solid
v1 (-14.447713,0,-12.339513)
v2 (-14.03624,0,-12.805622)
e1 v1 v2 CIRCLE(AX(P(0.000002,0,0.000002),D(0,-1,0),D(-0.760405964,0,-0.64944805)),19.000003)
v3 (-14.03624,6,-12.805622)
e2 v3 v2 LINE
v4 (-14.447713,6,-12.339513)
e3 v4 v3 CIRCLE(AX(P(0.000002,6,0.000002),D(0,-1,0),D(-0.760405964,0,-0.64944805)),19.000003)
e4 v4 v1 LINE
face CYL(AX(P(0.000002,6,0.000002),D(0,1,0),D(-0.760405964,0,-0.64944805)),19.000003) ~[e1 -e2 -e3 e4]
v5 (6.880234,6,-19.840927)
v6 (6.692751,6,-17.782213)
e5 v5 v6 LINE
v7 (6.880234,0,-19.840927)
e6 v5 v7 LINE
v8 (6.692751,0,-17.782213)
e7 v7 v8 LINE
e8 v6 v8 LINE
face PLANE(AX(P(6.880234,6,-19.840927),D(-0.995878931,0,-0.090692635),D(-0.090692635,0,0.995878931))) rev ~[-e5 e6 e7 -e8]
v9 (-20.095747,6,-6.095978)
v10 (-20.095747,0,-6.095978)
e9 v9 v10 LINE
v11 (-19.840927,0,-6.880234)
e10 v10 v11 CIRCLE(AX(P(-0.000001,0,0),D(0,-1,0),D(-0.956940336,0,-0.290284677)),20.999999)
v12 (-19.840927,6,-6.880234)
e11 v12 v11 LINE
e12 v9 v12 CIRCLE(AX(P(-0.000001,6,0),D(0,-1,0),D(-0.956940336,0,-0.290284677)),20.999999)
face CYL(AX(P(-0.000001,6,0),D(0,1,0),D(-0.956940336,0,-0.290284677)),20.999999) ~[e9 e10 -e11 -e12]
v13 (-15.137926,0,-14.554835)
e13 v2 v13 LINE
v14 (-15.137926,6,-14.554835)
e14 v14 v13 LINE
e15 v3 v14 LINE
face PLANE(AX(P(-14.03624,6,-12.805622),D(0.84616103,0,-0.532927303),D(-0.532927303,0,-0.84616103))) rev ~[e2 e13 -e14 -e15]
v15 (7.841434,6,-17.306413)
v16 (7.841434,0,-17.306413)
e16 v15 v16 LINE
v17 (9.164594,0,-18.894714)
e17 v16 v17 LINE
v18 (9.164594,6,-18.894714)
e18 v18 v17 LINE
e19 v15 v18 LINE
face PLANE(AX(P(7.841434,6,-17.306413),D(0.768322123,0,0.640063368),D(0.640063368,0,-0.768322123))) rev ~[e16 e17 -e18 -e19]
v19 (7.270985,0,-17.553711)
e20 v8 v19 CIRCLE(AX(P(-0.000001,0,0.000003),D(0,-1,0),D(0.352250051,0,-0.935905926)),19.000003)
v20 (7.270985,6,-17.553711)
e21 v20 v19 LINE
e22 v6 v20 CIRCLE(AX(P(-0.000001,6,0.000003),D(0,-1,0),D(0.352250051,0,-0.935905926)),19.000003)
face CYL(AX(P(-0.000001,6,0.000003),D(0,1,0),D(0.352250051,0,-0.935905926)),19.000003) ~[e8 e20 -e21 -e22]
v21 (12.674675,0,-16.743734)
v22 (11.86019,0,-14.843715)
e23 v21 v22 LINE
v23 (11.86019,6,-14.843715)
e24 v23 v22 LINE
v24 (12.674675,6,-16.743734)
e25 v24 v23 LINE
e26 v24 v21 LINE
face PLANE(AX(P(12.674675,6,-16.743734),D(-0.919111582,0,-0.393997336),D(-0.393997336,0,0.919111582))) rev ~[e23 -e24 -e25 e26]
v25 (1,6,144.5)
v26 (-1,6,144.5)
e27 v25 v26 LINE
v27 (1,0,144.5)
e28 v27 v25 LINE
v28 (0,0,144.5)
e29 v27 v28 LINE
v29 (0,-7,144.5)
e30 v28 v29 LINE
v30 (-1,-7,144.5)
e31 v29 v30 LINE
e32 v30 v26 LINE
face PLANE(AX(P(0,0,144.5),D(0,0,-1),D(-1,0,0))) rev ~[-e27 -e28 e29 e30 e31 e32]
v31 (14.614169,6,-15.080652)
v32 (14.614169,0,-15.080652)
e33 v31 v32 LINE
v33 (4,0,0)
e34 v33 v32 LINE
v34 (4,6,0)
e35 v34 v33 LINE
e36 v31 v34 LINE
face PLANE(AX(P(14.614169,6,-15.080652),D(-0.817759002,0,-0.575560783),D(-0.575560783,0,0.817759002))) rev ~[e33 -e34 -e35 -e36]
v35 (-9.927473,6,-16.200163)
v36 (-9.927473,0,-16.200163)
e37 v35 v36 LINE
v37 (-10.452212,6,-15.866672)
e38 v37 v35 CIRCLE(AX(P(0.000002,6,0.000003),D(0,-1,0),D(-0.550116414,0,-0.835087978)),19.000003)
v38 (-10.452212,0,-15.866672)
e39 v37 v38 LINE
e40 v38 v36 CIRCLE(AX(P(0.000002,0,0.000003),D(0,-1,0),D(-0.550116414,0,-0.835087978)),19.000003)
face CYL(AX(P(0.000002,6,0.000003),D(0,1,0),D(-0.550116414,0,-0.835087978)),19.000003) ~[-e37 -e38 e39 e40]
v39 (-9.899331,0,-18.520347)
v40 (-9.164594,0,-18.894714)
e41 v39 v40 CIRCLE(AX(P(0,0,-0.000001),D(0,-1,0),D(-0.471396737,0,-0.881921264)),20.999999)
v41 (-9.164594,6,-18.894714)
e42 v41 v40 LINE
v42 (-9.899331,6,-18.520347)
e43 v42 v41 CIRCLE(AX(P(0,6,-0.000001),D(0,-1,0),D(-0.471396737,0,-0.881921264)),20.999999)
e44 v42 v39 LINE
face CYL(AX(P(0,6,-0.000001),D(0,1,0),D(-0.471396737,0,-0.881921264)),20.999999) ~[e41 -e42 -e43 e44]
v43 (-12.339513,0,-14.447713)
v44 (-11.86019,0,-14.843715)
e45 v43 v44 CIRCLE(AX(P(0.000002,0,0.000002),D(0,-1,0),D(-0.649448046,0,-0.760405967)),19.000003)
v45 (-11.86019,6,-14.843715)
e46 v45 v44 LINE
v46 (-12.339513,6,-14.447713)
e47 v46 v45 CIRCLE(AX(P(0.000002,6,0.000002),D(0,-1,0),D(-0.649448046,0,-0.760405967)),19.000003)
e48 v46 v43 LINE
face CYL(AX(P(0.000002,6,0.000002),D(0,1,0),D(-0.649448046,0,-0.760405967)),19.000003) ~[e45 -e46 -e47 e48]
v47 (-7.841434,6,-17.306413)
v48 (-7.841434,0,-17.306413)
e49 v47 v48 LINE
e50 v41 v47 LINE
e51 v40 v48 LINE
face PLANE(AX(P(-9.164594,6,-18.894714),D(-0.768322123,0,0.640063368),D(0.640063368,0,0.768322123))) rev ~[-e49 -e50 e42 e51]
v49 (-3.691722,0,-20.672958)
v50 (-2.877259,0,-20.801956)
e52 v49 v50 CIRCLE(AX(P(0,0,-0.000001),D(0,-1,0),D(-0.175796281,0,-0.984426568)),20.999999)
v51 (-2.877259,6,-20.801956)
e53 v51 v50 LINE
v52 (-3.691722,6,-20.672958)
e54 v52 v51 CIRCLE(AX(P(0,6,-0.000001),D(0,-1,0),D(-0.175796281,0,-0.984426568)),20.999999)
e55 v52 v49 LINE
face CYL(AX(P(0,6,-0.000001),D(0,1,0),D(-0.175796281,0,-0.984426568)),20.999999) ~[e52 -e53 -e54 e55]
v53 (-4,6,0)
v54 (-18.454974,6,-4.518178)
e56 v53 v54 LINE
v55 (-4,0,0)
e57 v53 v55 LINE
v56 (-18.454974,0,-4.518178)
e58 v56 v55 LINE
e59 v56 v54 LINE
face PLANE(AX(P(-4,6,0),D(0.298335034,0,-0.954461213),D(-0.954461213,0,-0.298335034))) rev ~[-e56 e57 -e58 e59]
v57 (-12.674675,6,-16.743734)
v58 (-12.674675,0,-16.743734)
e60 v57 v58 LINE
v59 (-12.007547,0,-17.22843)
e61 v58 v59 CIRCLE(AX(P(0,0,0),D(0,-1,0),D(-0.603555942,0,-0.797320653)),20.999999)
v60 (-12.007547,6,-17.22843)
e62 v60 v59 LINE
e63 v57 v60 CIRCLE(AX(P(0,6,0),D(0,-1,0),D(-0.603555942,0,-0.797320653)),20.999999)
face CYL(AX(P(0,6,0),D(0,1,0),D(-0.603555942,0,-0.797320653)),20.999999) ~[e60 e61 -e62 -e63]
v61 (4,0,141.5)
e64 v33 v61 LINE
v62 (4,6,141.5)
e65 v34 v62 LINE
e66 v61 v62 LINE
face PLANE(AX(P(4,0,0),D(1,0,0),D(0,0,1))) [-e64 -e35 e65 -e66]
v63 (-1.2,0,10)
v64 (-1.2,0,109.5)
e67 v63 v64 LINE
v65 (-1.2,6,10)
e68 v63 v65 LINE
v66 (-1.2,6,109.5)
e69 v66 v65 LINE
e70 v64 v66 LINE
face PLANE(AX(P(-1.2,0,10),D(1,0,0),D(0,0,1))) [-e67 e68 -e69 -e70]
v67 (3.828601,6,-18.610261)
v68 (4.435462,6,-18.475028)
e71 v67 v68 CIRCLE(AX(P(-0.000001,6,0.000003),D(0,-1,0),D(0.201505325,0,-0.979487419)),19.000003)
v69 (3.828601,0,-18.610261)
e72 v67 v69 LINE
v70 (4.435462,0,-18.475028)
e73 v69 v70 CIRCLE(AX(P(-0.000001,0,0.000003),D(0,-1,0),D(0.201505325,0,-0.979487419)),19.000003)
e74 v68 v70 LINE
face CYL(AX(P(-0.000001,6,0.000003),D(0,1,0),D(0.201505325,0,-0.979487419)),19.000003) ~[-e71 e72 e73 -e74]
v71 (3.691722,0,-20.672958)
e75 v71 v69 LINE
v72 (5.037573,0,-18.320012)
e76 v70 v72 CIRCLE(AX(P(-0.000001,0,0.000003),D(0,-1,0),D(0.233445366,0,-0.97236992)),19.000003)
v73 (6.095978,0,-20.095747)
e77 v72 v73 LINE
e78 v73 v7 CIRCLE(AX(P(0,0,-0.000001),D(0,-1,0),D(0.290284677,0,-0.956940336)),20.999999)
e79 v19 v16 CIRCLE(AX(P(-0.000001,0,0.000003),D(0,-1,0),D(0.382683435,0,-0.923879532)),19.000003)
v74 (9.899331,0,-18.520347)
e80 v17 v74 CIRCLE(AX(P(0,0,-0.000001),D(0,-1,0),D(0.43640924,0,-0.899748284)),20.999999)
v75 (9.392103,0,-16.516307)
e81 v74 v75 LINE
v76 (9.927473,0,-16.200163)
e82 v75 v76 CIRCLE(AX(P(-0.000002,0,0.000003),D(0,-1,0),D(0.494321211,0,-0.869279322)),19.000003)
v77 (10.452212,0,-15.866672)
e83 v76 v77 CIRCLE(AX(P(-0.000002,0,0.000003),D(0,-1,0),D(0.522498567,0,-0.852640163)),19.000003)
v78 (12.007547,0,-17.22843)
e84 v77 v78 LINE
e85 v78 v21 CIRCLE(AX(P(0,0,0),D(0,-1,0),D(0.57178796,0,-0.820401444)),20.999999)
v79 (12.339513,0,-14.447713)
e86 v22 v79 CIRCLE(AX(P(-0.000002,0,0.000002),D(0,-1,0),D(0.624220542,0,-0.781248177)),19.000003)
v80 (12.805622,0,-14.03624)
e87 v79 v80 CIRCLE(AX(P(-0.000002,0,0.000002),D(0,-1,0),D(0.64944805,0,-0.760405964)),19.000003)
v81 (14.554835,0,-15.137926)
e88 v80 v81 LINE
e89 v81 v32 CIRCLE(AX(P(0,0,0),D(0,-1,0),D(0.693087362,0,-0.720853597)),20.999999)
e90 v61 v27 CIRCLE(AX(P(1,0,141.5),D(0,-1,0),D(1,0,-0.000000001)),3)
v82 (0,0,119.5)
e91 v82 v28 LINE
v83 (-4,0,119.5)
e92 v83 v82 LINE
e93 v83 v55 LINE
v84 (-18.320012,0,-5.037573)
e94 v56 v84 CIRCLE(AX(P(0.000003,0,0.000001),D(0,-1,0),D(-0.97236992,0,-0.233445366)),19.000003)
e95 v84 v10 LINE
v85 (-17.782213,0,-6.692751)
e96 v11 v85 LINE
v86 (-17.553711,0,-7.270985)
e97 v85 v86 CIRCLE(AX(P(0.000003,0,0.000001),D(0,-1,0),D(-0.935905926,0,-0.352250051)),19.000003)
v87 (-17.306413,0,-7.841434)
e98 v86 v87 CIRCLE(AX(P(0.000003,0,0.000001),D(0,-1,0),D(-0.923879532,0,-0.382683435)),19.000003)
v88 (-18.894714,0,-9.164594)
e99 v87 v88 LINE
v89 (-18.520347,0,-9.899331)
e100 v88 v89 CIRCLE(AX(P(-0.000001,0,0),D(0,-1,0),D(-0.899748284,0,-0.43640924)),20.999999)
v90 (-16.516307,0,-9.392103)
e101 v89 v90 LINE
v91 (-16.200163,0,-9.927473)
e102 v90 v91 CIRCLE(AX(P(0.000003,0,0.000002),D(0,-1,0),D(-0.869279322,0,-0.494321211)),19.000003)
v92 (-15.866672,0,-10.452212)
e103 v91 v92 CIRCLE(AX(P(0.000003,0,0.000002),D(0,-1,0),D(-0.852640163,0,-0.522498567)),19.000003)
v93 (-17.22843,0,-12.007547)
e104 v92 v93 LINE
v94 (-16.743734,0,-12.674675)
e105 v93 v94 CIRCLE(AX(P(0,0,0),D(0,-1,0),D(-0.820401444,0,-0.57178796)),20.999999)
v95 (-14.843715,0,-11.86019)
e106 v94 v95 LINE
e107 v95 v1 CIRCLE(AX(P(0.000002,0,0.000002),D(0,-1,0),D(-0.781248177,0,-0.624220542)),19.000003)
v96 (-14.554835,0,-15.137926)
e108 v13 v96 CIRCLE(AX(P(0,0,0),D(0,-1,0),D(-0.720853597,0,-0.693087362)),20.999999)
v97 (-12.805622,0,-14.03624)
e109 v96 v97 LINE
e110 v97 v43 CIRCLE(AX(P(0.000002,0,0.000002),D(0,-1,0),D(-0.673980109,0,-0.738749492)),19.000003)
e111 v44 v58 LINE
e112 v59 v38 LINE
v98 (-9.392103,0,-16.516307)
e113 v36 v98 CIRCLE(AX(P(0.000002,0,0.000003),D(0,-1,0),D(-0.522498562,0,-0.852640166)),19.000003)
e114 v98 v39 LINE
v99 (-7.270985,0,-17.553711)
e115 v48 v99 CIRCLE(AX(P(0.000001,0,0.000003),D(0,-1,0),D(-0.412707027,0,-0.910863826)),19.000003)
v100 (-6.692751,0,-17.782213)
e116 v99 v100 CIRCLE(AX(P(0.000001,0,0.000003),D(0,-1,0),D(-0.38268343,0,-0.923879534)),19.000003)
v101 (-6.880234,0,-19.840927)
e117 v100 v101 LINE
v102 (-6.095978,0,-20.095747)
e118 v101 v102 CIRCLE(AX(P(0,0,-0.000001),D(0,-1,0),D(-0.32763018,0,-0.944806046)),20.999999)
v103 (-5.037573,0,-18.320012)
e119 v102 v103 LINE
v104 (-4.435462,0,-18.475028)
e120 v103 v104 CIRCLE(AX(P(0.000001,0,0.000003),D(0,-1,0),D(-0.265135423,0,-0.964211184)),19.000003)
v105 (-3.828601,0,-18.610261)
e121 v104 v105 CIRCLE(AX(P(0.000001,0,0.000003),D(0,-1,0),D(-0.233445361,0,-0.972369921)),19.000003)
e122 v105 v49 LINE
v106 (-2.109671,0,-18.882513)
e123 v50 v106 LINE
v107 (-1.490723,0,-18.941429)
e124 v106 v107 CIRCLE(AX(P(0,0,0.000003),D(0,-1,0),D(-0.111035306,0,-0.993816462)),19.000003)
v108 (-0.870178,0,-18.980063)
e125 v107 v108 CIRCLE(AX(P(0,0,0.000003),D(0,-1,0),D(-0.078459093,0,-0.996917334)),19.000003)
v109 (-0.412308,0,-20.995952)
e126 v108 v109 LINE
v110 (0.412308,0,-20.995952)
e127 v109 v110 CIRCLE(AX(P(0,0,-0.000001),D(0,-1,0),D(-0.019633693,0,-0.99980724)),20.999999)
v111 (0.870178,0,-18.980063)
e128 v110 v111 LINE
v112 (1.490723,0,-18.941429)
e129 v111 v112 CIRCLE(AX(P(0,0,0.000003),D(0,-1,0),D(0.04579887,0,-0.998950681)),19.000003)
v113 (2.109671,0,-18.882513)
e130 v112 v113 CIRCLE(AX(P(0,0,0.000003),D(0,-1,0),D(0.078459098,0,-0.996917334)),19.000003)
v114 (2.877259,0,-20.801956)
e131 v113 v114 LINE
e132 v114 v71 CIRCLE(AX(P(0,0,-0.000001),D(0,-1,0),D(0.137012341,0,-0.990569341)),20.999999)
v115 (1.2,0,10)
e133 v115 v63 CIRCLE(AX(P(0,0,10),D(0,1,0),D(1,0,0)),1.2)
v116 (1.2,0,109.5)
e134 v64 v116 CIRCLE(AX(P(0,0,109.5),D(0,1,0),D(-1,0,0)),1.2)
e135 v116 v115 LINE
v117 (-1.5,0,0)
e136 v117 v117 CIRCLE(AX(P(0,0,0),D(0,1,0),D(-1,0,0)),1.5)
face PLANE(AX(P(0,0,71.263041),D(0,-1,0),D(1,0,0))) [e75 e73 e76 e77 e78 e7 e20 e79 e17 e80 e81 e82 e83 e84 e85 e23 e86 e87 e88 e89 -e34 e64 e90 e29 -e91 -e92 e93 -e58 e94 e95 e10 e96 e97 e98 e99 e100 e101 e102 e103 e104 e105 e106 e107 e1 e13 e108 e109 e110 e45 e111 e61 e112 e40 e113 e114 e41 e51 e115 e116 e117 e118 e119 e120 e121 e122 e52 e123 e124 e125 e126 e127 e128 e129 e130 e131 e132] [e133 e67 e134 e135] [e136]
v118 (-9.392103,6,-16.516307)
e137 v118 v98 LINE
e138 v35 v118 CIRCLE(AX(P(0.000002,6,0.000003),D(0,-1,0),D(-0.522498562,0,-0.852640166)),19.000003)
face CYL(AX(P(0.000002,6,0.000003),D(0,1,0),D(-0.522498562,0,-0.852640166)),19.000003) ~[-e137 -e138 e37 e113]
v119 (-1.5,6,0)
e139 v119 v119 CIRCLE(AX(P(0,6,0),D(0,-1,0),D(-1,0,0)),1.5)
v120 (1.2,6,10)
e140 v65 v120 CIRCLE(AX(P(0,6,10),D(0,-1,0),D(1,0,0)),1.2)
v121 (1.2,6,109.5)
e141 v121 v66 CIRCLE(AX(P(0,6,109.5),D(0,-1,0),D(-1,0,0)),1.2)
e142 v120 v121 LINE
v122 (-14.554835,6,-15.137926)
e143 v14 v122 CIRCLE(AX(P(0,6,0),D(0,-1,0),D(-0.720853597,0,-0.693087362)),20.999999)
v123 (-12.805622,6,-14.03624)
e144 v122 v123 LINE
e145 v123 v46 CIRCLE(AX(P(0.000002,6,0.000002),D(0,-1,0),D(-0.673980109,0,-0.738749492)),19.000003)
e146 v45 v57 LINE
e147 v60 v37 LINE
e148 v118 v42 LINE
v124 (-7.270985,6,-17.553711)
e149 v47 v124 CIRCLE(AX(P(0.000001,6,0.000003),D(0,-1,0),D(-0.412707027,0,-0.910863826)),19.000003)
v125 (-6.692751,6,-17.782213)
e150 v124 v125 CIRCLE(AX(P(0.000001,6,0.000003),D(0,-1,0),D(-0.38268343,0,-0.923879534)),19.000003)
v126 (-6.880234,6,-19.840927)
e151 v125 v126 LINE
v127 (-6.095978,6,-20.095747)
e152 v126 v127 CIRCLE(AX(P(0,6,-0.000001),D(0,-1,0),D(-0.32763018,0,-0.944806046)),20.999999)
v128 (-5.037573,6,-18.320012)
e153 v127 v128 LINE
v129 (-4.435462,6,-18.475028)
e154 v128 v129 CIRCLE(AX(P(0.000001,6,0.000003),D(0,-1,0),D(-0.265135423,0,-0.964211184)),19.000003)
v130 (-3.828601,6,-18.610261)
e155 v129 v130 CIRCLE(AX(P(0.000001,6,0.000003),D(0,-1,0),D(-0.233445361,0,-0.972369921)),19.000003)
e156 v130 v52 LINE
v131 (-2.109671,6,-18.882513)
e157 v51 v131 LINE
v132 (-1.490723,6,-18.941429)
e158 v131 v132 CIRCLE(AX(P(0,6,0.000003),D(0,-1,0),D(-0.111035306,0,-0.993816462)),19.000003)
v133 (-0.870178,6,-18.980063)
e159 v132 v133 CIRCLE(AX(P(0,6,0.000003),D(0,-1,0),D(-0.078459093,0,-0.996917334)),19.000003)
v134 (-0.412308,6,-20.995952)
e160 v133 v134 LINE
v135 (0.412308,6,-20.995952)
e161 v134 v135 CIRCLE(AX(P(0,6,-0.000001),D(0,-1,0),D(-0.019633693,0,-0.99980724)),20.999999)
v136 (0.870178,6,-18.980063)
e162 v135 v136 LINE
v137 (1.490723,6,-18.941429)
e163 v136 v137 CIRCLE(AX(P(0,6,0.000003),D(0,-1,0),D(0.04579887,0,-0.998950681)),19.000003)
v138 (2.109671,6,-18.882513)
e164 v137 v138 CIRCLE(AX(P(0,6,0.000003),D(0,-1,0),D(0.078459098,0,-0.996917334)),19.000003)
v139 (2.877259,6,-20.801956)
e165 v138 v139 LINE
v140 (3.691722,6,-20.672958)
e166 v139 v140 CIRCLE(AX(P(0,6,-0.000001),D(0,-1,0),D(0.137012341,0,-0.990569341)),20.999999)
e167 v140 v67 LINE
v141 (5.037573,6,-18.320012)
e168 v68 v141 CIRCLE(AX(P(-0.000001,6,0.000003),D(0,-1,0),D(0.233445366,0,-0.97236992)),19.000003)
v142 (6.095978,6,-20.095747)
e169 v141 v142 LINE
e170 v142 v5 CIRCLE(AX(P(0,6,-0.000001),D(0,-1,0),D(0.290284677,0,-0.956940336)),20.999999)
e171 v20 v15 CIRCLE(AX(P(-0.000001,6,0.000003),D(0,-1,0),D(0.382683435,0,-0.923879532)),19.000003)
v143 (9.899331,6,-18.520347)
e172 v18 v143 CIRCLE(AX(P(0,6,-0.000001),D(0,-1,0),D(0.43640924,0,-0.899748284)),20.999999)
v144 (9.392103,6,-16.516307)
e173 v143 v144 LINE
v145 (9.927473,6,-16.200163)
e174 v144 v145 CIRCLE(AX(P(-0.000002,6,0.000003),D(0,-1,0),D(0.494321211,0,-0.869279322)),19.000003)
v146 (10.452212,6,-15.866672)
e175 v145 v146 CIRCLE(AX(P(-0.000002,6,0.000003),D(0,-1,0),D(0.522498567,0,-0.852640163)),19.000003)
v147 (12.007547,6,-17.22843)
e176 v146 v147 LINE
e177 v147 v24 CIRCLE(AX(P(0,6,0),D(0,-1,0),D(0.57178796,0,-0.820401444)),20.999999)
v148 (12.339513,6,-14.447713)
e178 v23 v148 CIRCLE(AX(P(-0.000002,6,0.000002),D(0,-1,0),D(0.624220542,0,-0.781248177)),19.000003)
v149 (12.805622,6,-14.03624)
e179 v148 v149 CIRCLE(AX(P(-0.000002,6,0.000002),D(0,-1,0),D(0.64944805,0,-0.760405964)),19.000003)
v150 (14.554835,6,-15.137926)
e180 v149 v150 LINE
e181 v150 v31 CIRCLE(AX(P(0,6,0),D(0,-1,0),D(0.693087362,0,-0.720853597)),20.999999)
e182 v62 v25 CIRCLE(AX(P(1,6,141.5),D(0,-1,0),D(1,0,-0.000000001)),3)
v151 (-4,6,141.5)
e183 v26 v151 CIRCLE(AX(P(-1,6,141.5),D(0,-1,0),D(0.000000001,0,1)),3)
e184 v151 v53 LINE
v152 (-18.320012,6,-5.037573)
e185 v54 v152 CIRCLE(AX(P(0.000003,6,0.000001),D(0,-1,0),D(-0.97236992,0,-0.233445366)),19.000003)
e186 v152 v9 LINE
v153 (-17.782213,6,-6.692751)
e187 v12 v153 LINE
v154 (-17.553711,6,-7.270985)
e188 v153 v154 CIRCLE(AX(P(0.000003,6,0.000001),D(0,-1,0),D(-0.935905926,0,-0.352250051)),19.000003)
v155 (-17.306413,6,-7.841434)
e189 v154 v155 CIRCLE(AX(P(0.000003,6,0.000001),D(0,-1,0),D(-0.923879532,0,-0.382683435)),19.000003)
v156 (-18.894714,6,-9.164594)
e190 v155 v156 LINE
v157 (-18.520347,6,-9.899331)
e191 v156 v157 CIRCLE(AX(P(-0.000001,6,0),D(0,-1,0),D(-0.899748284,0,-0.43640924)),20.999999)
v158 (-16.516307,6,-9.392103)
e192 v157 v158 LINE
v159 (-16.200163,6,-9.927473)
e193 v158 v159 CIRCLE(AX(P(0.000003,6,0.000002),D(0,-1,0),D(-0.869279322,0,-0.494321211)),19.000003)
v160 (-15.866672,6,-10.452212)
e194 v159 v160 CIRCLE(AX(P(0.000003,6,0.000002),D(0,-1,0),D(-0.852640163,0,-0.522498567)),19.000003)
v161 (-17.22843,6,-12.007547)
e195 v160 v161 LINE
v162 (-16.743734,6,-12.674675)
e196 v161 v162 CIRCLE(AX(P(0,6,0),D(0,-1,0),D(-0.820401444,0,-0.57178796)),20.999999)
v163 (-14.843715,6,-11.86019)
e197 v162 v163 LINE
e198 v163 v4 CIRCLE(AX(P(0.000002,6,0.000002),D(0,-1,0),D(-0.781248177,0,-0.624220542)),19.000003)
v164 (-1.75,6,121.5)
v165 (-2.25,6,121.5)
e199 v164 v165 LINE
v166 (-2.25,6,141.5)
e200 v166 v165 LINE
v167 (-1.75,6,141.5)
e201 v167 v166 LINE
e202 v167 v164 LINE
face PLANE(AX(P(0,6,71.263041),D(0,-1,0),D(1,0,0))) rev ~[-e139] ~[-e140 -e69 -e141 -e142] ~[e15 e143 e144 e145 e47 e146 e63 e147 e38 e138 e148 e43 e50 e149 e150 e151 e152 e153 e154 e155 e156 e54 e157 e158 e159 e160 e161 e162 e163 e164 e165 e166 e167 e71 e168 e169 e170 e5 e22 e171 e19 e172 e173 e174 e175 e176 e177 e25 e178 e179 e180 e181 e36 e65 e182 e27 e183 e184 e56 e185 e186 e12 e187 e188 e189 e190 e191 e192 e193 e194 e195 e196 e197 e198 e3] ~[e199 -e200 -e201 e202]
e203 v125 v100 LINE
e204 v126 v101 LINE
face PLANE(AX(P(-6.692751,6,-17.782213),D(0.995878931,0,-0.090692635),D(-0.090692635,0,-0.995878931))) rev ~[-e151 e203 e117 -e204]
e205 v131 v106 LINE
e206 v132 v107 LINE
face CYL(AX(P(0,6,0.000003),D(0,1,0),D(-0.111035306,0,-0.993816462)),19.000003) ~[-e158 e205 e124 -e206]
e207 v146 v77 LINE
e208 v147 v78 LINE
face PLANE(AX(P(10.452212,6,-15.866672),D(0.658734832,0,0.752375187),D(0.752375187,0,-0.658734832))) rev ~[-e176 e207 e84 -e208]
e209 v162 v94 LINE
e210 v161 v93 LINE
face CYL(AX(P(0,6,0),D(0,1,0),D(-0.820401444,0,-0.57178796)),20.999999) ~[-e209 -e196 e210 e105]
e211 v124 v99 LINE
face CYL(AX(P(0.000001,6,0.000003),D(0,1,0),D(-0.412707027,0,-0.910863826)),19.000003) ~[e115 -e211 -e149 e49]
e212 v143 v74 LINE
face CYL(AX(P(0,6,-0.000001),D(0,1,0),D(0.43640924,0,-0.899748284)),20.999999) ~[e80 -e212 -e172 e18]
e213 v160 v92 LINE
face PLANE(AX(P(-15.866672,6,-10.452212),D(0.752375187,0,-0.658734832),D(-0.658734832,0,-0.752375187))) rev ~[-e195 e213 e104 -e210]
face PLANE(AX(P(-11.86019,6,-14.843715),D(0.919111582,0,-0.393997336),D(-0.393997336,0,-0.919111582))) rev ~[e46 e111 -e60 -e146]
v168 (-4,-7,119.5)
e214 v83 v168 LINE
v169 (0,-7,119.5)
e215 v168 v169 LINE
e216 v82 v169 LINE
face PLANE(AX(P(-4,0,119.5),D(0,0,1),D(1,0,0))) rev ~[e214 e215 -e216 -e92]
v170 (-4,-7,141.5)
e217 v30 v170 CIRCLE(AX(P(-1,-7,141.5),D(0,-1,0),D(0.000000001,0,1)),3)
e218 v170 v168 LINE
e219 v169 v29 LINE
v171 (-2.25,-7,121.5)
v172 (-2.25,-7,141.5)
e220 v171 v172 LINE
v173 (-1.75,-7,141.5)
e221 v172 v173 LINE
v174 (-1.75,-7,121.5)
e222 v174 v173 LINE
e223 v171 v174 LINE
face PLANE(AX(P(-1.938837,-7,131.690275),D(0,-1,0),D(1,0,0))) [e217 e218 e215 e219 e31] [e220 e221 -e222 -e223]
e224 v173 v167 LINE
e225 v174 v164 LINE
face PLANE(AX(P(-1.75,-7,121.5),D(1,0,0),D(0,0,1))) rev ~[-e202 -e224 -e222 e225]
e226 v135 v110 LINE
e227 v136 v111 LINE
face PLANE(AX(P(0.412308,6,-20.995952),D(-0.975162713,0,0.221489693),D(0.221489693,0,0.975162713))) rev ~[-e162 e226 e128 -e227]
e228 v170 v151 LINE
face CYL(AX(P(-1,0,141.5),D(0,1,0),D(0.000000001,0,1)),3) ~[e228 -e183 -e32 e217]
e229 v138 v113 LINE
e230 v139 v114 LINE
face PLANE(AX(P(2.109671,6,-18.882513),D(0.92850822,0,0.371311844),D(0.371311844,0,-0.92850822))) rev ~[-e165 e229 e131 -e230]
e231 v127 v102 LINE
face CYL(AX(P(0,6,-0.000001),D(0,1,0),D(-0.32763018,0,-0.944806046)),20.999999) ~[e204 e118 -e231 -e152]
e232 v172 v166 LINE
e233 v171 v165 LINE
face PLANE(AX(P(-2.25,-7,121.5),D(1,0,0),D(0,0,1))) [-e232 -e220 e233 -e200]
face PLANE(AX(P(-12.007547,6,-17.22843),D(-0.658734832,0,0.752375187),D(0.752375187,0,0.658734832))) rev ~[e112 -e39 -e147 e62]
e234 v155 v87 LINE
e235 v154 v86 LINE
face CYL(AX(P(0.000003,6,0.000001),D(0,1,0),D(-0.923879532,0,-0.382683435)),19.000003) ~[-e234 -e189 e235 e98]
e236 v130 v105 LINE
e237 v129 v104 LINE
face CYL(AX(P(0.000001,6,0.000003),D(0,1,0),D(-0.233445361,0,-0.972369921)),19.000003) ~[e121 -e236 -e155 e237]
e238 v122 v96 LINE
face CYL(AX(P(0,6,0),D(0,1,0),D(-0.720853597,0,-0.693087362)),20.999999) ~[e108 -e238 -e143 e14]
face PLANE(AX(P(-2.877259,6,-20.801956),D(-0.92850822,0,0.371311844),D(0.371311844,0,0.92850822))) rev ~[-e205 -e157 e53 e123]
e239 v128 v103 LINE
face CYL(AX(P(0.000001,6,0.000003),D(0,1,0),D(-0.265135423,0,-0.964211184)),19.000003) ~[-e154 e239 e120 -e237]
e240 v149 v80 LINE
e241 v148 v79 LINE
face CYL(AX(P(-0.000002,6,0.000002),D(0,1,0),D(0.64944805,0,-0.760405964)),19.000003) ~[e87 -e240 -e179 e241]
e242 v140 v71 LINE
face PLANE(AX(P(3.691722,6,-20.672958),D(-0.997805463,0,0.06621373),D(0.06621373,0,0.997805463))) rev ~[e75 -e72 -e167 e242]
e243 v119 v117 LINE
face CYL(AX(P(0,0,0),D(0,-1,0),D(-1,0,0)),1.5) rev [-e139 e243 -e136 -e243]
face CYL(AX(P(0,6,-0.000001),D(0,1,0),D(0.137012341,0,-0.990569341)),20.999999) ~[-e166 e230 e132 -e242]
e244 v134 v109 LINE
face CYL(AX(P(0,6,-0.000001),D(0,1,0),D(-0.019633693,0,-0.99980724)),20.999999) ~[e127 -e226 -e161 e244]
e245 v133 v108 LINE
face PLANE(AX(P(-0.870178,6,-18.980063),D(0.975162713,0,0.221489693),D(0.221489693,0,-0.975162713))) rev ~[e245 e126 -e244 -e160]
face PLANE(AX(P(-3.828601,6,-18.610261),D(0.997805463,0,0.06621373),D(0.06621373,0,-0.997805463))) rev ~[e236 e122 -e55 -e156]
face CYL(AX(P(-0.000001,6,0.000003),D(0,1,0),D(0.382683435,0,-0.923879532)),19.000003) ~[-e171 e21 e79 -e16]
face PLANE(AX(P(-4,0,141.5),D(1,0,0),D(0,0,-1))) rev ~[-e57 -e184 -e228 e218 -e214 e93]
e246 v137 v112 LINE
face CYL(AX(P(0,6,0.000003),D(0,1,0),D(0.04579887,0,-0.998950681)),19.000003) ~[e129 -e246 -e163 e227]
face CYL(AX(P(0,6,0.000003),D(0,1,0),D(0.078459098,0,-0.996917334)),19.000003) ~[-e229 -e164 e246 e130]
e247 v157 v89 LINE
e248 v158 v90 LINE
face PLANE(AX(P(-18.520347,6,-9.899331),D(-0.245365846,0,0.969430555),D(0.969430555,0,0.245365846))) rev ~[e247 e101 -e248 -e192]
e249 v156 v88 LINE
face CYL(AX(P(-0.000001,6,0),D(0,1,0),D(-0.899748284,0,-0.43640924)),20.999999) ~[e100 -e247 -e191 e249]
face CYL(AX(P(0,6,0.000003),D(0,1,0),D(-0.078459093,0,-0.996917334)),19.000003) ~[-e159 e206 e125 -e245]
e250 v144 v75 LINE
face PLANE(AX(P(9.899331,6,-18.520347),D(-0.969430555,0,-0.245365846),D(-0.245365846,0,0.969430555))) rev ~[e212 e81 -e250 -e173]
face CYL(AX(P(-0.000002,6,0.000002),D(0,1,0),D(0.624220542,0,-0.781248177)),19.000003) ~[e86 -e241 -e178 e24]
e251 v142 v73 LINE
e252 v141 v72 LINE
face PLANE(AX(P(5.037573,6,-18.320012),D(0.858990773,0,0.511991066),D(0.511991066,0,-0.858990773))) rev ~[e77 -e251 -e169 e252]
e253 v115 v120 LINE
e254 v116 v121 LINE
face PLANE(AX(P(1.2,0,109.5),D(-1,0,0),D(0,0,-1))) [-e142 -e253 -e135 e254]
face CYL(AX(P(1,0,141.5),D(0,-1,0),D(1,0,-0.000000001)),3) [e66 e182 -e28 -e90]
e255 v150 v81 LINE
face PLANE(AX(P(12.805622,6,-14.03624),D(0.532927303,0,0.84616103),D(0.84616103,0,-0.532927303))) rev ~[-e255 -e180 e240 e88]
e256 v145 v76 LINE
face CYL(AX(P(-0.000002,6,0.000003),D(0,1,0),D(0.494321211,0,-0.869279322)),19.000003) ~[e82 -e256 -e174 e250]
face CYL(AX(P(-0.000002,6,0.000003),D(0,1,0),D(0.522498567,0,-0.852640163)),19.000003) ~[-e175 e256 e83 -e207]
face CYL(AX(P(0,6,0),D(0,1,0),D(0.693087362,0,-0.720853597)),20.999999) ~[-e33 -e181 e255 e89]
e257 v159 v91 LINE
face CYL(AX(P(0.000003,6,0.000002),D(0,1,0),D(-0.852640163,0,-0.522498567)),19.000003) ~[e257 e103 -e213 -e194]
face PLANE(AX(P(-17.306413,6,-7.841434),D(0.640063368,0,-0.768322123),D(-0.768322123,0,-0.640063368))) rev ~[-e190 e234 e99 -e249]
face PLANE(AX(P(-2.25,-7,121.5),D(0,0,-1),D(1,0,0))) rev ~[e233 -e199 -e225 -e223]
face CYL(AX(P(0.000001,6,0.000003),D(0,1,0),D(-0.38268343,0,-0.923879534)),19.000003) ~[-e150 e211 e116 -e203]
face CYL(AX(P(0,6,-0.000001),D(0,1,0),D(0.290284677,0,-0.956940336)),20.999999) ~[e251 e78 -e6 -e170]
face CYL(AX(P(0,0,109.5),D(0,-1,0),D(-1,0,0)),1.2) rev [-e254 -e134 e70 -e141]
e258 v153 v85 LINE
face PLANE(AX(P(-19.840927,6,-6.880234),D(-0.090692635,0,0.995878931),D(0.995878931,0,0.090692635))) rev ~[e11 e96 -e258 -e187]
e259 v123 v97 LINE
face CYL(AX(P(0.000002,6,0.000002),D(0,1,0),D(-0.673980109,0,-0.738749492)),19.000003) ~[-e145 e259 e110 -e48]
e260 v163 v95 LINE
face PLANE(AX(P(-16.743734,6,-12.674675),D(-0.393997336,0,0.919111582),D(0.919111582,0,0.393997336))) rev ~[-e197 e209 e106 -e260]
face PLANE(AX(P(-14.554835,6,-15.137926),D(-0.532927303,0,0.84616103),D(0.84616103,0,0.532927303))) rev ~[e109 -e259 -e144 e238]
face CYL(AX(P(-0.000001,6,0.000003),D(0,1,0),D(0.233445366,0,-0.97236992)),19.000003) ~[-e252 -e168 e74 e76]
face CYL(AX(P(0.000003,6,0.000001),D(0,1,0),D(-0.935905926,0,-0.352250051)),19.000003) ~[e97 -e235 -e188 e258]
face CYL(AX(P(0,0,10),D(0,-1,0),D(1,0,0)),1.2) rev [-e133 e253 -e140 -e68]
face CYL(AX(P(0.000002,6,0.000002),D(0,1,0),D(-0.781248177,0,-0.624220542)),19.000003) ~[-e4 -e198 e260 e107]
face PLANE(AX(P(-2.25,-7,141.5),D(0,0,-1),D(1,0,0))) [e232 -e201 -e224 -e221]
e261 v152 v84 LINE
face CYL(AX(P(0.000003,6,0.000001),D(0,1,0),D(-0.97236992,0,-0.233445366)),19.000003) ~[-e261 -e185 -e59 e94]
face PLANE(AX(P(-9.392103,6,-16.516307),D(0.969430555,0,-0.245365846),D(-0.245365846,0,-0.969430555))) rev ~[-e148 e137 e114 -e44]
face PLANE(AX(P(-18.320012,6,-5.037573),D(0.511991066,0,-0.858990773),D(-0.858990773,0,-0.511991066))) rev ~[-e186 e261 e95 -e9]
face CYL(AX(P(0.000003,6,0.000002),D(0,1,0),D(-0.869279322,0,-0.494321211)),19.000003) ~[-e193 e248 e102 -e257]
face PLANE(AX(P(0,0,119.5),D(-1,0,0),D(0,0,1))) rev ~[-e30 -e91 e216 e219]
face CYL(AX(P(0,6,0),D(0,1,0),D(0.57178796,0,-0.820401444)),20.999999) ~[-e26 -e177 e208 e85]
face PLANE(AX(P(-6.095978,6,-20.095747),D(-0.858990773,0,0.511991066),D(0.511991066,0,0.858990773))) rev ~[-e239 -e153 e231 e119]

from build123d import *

# Parameters (mm, degrees)
SKETCH1_R           = 21
SKETCH1_R_2         = 1.5
BOSS_EXTRUDE1_DEPTH = 6
CUT_EXTRUDE1_DEPTH  = 6
CIRPATTERN1_COUNT   = 40
CUT_EXTRUDE2_REACH  = 8
BOSS_EXTRUDE2_DEPTH = 6
BOSS_EXTRUDE3_DEPTH = 7
CUT_EXTRUDE4_REACH  = 15
SKETCH7_W           = 0.5
SKETCH7_H           = 20
CUT_EXTRUDE5_REACH  = 8


with BuildPart() as part:
    # Sketch1 → Boss-Extrude1 (new body)
    with BuildSketch(Plane(origin=(0, 0, 0), x_dir=(1, 0, 0), z_dir=(0, 1, 0))):
        Circle(SKETCH1_R)
        Circle(SKETCH1_R_2, mode=Mode.SUBTRACT)
    extrude(amount=BOSS_EXTRUDE1_DEPTH)

    # Sketch2 → Cut-Extrude1 (cut)
    with BuildSketch(Plane(origin=(0, 6, 0), x_dir=(1, 0, 0), z_dir=(0, 1, 0))):
        with BuildLine():
            Line((-0.870178472, 18.980062946), (-0.412307542, 20.99595205))
            ThreePointArc((-0.412307542, 20.99595205), (0, 21), (0.412307542, 20.99595205))
            Line((0.412307542, 20.99595205), (0.870178472, 18.980062946))
            ThreePointArc((0.870178472, 18.980062946), (1.180608684, 18.963284608), (1.490722819, 18.941429341))
            Line((1.490722819, 18.941429341), (1.73143755, 22))
            Line((1.73143755, 22), (-1.73143755, 22))
            Line((-1.73143755, 22), (-1.490722819, 18.941429341))
            ThreePointArc((-1.490722819, 18.941429341), (-1.180608684, 18.963284608), (-0.870178472, 18.980062946))
        make_face()
    cut_extrude1 = extrude(amount=-CUT_EXTRUDE1_DEPTH, mode=Mode.SUBTRACT)

    # CirPattern1: Cut-Extrude1 ×40 about axis
    cirpattern1_axis = Axis((0, 0, 0), (0, 1, 0))
    for i in range(1, CIRPATTERN1_COUNT):
        add(cut_extrude1.rotate(cirpattern1_axis, i * 360 / CIRPATTERN1_COUNT), mode=Mode.SUBTRACT)

    # Sketch3 → Cut-Extrude2 (cut, up to next)
    with BuildSketch(Plane(origin=(0, 6, 0), x_dir=(1, 0, 0), z_dir=(0, 1, 0)), mode=Mode.PRIVATE) as cut_extrude2_sk1:
        with BuildLine():
            Line((-4, 0), (-20.367312321, 5.115915248))
            ThreePointArc((-20.367312321, 5.115915248), (5.753143593, -20.196567501), (14.614168728, 15.080652253))
            Line((14.614168728, 15.080652253), (4, 0))
            Line((4, 0), (-4, 0))
        make_face()
    cut_extrude2_tool1 = extrude(cut_extrude2_sk1.sketch, amount=-CUT_EXTRUDE2_REACH, mode=Mode.PRIVATE) & part.part
    add(cut_extrude2_tool1.solids().sort_by_distance((1.540678, 6, 6.01351))[0], mode=Mode.SUBTRACT)

    # Sketch4 → Boss-Extrude2 (add)
    with BuildSketch(Plane.XZ):
        with BuildLine():
            Line((1.5, 0), (4, 0))
            Line((4, 0), (4, 141.5))
            ThreePointArc((4, 141.5), (3.121320344, 143.621320344), (1, 144.5))
            Line((1, 144.5), (-1, 144.5))
            ThreePointArc((-1, 144.5), (-3.121320344, 143.621320344), (-4, 141.5))
            Line((-4, 141.5), (-4, 0))
            Line((-4, 0), (-1.5, 0))
            ThreePointArc((-1.5, 0), (0, 1.5), (1.5, 0))
        make_face()
    extrude(amount=-BOSS_EXTRUDE2_DEPTH)

    # Sketch5 → Boss-Extrude3 (add)
    with BuildSketch(Plane.XZ):
        with BuildLine():
            Line((-4, 141.5), (-4, 119.5))
            Line((-4, 119.5), (0, 119.5))
            Line((0, 119.5), (0, 144.5))
            Line((0, 144.5), (-1, 144.5))
            ThreePointArc((-1, 144.5), (-3.121320344, 143.621320344), (-4, 141.5))
        make_face()
    extrude(amount=BOSS_EXTRUDE3_DEPTH)

    # Sketch7 → Cut-Extrude4 (cut, up to next)
    with BuildSketch(Plane.XZ.offset(7), mode=Mode.PRIVATE) as cut_extrude4_sk1:
        with Locations((-2, 131.5)):
            Rectangle(SKETCH7_W, SKETCH7_H)
    cut_extrude4_tool1 = extrude(cut_extrude4_sk1.sketch, amount=-CUT_EXTRUDE4_REACH, mode=Mode.PRIVATE) & part.part
    add(cut_extrude4_tool1.solids().sort_by_distance((-2, -7, 131.5))[0], mode=Mode.SUBTRACT)

    # Sketch8 → Cut-Extrude5 (cut, up to next)
    with BuildSketch(Plane.XZ, mode=Mode.PRIVATE) as cut_extrude5_sk1:
        with BuildLine():
            Line((-1.2, 10), (-1.2, 109.5))
            ThreePointArc((-1.2, 109.5), (0, 110.7), (1.2, 109.5))
            Line((1.2, 109.5), (1.2, 10))
            ThreePointArc((1.2, 10), (0, 8.8), (-1.2, 10))
        make_face()
    cut_extrude5_tool1 = extrude(cut_extrude5_sk1.sketch, amount=-CUT_EXTRUDE5_REACH, mode=Mode.PRIVATE) & part.part
    add(cut_extrude5_tool1.solids().sort_by_distance((0, 0, 59.75))[0], mode=Mode.SUBTRACT)


solid = part.part
